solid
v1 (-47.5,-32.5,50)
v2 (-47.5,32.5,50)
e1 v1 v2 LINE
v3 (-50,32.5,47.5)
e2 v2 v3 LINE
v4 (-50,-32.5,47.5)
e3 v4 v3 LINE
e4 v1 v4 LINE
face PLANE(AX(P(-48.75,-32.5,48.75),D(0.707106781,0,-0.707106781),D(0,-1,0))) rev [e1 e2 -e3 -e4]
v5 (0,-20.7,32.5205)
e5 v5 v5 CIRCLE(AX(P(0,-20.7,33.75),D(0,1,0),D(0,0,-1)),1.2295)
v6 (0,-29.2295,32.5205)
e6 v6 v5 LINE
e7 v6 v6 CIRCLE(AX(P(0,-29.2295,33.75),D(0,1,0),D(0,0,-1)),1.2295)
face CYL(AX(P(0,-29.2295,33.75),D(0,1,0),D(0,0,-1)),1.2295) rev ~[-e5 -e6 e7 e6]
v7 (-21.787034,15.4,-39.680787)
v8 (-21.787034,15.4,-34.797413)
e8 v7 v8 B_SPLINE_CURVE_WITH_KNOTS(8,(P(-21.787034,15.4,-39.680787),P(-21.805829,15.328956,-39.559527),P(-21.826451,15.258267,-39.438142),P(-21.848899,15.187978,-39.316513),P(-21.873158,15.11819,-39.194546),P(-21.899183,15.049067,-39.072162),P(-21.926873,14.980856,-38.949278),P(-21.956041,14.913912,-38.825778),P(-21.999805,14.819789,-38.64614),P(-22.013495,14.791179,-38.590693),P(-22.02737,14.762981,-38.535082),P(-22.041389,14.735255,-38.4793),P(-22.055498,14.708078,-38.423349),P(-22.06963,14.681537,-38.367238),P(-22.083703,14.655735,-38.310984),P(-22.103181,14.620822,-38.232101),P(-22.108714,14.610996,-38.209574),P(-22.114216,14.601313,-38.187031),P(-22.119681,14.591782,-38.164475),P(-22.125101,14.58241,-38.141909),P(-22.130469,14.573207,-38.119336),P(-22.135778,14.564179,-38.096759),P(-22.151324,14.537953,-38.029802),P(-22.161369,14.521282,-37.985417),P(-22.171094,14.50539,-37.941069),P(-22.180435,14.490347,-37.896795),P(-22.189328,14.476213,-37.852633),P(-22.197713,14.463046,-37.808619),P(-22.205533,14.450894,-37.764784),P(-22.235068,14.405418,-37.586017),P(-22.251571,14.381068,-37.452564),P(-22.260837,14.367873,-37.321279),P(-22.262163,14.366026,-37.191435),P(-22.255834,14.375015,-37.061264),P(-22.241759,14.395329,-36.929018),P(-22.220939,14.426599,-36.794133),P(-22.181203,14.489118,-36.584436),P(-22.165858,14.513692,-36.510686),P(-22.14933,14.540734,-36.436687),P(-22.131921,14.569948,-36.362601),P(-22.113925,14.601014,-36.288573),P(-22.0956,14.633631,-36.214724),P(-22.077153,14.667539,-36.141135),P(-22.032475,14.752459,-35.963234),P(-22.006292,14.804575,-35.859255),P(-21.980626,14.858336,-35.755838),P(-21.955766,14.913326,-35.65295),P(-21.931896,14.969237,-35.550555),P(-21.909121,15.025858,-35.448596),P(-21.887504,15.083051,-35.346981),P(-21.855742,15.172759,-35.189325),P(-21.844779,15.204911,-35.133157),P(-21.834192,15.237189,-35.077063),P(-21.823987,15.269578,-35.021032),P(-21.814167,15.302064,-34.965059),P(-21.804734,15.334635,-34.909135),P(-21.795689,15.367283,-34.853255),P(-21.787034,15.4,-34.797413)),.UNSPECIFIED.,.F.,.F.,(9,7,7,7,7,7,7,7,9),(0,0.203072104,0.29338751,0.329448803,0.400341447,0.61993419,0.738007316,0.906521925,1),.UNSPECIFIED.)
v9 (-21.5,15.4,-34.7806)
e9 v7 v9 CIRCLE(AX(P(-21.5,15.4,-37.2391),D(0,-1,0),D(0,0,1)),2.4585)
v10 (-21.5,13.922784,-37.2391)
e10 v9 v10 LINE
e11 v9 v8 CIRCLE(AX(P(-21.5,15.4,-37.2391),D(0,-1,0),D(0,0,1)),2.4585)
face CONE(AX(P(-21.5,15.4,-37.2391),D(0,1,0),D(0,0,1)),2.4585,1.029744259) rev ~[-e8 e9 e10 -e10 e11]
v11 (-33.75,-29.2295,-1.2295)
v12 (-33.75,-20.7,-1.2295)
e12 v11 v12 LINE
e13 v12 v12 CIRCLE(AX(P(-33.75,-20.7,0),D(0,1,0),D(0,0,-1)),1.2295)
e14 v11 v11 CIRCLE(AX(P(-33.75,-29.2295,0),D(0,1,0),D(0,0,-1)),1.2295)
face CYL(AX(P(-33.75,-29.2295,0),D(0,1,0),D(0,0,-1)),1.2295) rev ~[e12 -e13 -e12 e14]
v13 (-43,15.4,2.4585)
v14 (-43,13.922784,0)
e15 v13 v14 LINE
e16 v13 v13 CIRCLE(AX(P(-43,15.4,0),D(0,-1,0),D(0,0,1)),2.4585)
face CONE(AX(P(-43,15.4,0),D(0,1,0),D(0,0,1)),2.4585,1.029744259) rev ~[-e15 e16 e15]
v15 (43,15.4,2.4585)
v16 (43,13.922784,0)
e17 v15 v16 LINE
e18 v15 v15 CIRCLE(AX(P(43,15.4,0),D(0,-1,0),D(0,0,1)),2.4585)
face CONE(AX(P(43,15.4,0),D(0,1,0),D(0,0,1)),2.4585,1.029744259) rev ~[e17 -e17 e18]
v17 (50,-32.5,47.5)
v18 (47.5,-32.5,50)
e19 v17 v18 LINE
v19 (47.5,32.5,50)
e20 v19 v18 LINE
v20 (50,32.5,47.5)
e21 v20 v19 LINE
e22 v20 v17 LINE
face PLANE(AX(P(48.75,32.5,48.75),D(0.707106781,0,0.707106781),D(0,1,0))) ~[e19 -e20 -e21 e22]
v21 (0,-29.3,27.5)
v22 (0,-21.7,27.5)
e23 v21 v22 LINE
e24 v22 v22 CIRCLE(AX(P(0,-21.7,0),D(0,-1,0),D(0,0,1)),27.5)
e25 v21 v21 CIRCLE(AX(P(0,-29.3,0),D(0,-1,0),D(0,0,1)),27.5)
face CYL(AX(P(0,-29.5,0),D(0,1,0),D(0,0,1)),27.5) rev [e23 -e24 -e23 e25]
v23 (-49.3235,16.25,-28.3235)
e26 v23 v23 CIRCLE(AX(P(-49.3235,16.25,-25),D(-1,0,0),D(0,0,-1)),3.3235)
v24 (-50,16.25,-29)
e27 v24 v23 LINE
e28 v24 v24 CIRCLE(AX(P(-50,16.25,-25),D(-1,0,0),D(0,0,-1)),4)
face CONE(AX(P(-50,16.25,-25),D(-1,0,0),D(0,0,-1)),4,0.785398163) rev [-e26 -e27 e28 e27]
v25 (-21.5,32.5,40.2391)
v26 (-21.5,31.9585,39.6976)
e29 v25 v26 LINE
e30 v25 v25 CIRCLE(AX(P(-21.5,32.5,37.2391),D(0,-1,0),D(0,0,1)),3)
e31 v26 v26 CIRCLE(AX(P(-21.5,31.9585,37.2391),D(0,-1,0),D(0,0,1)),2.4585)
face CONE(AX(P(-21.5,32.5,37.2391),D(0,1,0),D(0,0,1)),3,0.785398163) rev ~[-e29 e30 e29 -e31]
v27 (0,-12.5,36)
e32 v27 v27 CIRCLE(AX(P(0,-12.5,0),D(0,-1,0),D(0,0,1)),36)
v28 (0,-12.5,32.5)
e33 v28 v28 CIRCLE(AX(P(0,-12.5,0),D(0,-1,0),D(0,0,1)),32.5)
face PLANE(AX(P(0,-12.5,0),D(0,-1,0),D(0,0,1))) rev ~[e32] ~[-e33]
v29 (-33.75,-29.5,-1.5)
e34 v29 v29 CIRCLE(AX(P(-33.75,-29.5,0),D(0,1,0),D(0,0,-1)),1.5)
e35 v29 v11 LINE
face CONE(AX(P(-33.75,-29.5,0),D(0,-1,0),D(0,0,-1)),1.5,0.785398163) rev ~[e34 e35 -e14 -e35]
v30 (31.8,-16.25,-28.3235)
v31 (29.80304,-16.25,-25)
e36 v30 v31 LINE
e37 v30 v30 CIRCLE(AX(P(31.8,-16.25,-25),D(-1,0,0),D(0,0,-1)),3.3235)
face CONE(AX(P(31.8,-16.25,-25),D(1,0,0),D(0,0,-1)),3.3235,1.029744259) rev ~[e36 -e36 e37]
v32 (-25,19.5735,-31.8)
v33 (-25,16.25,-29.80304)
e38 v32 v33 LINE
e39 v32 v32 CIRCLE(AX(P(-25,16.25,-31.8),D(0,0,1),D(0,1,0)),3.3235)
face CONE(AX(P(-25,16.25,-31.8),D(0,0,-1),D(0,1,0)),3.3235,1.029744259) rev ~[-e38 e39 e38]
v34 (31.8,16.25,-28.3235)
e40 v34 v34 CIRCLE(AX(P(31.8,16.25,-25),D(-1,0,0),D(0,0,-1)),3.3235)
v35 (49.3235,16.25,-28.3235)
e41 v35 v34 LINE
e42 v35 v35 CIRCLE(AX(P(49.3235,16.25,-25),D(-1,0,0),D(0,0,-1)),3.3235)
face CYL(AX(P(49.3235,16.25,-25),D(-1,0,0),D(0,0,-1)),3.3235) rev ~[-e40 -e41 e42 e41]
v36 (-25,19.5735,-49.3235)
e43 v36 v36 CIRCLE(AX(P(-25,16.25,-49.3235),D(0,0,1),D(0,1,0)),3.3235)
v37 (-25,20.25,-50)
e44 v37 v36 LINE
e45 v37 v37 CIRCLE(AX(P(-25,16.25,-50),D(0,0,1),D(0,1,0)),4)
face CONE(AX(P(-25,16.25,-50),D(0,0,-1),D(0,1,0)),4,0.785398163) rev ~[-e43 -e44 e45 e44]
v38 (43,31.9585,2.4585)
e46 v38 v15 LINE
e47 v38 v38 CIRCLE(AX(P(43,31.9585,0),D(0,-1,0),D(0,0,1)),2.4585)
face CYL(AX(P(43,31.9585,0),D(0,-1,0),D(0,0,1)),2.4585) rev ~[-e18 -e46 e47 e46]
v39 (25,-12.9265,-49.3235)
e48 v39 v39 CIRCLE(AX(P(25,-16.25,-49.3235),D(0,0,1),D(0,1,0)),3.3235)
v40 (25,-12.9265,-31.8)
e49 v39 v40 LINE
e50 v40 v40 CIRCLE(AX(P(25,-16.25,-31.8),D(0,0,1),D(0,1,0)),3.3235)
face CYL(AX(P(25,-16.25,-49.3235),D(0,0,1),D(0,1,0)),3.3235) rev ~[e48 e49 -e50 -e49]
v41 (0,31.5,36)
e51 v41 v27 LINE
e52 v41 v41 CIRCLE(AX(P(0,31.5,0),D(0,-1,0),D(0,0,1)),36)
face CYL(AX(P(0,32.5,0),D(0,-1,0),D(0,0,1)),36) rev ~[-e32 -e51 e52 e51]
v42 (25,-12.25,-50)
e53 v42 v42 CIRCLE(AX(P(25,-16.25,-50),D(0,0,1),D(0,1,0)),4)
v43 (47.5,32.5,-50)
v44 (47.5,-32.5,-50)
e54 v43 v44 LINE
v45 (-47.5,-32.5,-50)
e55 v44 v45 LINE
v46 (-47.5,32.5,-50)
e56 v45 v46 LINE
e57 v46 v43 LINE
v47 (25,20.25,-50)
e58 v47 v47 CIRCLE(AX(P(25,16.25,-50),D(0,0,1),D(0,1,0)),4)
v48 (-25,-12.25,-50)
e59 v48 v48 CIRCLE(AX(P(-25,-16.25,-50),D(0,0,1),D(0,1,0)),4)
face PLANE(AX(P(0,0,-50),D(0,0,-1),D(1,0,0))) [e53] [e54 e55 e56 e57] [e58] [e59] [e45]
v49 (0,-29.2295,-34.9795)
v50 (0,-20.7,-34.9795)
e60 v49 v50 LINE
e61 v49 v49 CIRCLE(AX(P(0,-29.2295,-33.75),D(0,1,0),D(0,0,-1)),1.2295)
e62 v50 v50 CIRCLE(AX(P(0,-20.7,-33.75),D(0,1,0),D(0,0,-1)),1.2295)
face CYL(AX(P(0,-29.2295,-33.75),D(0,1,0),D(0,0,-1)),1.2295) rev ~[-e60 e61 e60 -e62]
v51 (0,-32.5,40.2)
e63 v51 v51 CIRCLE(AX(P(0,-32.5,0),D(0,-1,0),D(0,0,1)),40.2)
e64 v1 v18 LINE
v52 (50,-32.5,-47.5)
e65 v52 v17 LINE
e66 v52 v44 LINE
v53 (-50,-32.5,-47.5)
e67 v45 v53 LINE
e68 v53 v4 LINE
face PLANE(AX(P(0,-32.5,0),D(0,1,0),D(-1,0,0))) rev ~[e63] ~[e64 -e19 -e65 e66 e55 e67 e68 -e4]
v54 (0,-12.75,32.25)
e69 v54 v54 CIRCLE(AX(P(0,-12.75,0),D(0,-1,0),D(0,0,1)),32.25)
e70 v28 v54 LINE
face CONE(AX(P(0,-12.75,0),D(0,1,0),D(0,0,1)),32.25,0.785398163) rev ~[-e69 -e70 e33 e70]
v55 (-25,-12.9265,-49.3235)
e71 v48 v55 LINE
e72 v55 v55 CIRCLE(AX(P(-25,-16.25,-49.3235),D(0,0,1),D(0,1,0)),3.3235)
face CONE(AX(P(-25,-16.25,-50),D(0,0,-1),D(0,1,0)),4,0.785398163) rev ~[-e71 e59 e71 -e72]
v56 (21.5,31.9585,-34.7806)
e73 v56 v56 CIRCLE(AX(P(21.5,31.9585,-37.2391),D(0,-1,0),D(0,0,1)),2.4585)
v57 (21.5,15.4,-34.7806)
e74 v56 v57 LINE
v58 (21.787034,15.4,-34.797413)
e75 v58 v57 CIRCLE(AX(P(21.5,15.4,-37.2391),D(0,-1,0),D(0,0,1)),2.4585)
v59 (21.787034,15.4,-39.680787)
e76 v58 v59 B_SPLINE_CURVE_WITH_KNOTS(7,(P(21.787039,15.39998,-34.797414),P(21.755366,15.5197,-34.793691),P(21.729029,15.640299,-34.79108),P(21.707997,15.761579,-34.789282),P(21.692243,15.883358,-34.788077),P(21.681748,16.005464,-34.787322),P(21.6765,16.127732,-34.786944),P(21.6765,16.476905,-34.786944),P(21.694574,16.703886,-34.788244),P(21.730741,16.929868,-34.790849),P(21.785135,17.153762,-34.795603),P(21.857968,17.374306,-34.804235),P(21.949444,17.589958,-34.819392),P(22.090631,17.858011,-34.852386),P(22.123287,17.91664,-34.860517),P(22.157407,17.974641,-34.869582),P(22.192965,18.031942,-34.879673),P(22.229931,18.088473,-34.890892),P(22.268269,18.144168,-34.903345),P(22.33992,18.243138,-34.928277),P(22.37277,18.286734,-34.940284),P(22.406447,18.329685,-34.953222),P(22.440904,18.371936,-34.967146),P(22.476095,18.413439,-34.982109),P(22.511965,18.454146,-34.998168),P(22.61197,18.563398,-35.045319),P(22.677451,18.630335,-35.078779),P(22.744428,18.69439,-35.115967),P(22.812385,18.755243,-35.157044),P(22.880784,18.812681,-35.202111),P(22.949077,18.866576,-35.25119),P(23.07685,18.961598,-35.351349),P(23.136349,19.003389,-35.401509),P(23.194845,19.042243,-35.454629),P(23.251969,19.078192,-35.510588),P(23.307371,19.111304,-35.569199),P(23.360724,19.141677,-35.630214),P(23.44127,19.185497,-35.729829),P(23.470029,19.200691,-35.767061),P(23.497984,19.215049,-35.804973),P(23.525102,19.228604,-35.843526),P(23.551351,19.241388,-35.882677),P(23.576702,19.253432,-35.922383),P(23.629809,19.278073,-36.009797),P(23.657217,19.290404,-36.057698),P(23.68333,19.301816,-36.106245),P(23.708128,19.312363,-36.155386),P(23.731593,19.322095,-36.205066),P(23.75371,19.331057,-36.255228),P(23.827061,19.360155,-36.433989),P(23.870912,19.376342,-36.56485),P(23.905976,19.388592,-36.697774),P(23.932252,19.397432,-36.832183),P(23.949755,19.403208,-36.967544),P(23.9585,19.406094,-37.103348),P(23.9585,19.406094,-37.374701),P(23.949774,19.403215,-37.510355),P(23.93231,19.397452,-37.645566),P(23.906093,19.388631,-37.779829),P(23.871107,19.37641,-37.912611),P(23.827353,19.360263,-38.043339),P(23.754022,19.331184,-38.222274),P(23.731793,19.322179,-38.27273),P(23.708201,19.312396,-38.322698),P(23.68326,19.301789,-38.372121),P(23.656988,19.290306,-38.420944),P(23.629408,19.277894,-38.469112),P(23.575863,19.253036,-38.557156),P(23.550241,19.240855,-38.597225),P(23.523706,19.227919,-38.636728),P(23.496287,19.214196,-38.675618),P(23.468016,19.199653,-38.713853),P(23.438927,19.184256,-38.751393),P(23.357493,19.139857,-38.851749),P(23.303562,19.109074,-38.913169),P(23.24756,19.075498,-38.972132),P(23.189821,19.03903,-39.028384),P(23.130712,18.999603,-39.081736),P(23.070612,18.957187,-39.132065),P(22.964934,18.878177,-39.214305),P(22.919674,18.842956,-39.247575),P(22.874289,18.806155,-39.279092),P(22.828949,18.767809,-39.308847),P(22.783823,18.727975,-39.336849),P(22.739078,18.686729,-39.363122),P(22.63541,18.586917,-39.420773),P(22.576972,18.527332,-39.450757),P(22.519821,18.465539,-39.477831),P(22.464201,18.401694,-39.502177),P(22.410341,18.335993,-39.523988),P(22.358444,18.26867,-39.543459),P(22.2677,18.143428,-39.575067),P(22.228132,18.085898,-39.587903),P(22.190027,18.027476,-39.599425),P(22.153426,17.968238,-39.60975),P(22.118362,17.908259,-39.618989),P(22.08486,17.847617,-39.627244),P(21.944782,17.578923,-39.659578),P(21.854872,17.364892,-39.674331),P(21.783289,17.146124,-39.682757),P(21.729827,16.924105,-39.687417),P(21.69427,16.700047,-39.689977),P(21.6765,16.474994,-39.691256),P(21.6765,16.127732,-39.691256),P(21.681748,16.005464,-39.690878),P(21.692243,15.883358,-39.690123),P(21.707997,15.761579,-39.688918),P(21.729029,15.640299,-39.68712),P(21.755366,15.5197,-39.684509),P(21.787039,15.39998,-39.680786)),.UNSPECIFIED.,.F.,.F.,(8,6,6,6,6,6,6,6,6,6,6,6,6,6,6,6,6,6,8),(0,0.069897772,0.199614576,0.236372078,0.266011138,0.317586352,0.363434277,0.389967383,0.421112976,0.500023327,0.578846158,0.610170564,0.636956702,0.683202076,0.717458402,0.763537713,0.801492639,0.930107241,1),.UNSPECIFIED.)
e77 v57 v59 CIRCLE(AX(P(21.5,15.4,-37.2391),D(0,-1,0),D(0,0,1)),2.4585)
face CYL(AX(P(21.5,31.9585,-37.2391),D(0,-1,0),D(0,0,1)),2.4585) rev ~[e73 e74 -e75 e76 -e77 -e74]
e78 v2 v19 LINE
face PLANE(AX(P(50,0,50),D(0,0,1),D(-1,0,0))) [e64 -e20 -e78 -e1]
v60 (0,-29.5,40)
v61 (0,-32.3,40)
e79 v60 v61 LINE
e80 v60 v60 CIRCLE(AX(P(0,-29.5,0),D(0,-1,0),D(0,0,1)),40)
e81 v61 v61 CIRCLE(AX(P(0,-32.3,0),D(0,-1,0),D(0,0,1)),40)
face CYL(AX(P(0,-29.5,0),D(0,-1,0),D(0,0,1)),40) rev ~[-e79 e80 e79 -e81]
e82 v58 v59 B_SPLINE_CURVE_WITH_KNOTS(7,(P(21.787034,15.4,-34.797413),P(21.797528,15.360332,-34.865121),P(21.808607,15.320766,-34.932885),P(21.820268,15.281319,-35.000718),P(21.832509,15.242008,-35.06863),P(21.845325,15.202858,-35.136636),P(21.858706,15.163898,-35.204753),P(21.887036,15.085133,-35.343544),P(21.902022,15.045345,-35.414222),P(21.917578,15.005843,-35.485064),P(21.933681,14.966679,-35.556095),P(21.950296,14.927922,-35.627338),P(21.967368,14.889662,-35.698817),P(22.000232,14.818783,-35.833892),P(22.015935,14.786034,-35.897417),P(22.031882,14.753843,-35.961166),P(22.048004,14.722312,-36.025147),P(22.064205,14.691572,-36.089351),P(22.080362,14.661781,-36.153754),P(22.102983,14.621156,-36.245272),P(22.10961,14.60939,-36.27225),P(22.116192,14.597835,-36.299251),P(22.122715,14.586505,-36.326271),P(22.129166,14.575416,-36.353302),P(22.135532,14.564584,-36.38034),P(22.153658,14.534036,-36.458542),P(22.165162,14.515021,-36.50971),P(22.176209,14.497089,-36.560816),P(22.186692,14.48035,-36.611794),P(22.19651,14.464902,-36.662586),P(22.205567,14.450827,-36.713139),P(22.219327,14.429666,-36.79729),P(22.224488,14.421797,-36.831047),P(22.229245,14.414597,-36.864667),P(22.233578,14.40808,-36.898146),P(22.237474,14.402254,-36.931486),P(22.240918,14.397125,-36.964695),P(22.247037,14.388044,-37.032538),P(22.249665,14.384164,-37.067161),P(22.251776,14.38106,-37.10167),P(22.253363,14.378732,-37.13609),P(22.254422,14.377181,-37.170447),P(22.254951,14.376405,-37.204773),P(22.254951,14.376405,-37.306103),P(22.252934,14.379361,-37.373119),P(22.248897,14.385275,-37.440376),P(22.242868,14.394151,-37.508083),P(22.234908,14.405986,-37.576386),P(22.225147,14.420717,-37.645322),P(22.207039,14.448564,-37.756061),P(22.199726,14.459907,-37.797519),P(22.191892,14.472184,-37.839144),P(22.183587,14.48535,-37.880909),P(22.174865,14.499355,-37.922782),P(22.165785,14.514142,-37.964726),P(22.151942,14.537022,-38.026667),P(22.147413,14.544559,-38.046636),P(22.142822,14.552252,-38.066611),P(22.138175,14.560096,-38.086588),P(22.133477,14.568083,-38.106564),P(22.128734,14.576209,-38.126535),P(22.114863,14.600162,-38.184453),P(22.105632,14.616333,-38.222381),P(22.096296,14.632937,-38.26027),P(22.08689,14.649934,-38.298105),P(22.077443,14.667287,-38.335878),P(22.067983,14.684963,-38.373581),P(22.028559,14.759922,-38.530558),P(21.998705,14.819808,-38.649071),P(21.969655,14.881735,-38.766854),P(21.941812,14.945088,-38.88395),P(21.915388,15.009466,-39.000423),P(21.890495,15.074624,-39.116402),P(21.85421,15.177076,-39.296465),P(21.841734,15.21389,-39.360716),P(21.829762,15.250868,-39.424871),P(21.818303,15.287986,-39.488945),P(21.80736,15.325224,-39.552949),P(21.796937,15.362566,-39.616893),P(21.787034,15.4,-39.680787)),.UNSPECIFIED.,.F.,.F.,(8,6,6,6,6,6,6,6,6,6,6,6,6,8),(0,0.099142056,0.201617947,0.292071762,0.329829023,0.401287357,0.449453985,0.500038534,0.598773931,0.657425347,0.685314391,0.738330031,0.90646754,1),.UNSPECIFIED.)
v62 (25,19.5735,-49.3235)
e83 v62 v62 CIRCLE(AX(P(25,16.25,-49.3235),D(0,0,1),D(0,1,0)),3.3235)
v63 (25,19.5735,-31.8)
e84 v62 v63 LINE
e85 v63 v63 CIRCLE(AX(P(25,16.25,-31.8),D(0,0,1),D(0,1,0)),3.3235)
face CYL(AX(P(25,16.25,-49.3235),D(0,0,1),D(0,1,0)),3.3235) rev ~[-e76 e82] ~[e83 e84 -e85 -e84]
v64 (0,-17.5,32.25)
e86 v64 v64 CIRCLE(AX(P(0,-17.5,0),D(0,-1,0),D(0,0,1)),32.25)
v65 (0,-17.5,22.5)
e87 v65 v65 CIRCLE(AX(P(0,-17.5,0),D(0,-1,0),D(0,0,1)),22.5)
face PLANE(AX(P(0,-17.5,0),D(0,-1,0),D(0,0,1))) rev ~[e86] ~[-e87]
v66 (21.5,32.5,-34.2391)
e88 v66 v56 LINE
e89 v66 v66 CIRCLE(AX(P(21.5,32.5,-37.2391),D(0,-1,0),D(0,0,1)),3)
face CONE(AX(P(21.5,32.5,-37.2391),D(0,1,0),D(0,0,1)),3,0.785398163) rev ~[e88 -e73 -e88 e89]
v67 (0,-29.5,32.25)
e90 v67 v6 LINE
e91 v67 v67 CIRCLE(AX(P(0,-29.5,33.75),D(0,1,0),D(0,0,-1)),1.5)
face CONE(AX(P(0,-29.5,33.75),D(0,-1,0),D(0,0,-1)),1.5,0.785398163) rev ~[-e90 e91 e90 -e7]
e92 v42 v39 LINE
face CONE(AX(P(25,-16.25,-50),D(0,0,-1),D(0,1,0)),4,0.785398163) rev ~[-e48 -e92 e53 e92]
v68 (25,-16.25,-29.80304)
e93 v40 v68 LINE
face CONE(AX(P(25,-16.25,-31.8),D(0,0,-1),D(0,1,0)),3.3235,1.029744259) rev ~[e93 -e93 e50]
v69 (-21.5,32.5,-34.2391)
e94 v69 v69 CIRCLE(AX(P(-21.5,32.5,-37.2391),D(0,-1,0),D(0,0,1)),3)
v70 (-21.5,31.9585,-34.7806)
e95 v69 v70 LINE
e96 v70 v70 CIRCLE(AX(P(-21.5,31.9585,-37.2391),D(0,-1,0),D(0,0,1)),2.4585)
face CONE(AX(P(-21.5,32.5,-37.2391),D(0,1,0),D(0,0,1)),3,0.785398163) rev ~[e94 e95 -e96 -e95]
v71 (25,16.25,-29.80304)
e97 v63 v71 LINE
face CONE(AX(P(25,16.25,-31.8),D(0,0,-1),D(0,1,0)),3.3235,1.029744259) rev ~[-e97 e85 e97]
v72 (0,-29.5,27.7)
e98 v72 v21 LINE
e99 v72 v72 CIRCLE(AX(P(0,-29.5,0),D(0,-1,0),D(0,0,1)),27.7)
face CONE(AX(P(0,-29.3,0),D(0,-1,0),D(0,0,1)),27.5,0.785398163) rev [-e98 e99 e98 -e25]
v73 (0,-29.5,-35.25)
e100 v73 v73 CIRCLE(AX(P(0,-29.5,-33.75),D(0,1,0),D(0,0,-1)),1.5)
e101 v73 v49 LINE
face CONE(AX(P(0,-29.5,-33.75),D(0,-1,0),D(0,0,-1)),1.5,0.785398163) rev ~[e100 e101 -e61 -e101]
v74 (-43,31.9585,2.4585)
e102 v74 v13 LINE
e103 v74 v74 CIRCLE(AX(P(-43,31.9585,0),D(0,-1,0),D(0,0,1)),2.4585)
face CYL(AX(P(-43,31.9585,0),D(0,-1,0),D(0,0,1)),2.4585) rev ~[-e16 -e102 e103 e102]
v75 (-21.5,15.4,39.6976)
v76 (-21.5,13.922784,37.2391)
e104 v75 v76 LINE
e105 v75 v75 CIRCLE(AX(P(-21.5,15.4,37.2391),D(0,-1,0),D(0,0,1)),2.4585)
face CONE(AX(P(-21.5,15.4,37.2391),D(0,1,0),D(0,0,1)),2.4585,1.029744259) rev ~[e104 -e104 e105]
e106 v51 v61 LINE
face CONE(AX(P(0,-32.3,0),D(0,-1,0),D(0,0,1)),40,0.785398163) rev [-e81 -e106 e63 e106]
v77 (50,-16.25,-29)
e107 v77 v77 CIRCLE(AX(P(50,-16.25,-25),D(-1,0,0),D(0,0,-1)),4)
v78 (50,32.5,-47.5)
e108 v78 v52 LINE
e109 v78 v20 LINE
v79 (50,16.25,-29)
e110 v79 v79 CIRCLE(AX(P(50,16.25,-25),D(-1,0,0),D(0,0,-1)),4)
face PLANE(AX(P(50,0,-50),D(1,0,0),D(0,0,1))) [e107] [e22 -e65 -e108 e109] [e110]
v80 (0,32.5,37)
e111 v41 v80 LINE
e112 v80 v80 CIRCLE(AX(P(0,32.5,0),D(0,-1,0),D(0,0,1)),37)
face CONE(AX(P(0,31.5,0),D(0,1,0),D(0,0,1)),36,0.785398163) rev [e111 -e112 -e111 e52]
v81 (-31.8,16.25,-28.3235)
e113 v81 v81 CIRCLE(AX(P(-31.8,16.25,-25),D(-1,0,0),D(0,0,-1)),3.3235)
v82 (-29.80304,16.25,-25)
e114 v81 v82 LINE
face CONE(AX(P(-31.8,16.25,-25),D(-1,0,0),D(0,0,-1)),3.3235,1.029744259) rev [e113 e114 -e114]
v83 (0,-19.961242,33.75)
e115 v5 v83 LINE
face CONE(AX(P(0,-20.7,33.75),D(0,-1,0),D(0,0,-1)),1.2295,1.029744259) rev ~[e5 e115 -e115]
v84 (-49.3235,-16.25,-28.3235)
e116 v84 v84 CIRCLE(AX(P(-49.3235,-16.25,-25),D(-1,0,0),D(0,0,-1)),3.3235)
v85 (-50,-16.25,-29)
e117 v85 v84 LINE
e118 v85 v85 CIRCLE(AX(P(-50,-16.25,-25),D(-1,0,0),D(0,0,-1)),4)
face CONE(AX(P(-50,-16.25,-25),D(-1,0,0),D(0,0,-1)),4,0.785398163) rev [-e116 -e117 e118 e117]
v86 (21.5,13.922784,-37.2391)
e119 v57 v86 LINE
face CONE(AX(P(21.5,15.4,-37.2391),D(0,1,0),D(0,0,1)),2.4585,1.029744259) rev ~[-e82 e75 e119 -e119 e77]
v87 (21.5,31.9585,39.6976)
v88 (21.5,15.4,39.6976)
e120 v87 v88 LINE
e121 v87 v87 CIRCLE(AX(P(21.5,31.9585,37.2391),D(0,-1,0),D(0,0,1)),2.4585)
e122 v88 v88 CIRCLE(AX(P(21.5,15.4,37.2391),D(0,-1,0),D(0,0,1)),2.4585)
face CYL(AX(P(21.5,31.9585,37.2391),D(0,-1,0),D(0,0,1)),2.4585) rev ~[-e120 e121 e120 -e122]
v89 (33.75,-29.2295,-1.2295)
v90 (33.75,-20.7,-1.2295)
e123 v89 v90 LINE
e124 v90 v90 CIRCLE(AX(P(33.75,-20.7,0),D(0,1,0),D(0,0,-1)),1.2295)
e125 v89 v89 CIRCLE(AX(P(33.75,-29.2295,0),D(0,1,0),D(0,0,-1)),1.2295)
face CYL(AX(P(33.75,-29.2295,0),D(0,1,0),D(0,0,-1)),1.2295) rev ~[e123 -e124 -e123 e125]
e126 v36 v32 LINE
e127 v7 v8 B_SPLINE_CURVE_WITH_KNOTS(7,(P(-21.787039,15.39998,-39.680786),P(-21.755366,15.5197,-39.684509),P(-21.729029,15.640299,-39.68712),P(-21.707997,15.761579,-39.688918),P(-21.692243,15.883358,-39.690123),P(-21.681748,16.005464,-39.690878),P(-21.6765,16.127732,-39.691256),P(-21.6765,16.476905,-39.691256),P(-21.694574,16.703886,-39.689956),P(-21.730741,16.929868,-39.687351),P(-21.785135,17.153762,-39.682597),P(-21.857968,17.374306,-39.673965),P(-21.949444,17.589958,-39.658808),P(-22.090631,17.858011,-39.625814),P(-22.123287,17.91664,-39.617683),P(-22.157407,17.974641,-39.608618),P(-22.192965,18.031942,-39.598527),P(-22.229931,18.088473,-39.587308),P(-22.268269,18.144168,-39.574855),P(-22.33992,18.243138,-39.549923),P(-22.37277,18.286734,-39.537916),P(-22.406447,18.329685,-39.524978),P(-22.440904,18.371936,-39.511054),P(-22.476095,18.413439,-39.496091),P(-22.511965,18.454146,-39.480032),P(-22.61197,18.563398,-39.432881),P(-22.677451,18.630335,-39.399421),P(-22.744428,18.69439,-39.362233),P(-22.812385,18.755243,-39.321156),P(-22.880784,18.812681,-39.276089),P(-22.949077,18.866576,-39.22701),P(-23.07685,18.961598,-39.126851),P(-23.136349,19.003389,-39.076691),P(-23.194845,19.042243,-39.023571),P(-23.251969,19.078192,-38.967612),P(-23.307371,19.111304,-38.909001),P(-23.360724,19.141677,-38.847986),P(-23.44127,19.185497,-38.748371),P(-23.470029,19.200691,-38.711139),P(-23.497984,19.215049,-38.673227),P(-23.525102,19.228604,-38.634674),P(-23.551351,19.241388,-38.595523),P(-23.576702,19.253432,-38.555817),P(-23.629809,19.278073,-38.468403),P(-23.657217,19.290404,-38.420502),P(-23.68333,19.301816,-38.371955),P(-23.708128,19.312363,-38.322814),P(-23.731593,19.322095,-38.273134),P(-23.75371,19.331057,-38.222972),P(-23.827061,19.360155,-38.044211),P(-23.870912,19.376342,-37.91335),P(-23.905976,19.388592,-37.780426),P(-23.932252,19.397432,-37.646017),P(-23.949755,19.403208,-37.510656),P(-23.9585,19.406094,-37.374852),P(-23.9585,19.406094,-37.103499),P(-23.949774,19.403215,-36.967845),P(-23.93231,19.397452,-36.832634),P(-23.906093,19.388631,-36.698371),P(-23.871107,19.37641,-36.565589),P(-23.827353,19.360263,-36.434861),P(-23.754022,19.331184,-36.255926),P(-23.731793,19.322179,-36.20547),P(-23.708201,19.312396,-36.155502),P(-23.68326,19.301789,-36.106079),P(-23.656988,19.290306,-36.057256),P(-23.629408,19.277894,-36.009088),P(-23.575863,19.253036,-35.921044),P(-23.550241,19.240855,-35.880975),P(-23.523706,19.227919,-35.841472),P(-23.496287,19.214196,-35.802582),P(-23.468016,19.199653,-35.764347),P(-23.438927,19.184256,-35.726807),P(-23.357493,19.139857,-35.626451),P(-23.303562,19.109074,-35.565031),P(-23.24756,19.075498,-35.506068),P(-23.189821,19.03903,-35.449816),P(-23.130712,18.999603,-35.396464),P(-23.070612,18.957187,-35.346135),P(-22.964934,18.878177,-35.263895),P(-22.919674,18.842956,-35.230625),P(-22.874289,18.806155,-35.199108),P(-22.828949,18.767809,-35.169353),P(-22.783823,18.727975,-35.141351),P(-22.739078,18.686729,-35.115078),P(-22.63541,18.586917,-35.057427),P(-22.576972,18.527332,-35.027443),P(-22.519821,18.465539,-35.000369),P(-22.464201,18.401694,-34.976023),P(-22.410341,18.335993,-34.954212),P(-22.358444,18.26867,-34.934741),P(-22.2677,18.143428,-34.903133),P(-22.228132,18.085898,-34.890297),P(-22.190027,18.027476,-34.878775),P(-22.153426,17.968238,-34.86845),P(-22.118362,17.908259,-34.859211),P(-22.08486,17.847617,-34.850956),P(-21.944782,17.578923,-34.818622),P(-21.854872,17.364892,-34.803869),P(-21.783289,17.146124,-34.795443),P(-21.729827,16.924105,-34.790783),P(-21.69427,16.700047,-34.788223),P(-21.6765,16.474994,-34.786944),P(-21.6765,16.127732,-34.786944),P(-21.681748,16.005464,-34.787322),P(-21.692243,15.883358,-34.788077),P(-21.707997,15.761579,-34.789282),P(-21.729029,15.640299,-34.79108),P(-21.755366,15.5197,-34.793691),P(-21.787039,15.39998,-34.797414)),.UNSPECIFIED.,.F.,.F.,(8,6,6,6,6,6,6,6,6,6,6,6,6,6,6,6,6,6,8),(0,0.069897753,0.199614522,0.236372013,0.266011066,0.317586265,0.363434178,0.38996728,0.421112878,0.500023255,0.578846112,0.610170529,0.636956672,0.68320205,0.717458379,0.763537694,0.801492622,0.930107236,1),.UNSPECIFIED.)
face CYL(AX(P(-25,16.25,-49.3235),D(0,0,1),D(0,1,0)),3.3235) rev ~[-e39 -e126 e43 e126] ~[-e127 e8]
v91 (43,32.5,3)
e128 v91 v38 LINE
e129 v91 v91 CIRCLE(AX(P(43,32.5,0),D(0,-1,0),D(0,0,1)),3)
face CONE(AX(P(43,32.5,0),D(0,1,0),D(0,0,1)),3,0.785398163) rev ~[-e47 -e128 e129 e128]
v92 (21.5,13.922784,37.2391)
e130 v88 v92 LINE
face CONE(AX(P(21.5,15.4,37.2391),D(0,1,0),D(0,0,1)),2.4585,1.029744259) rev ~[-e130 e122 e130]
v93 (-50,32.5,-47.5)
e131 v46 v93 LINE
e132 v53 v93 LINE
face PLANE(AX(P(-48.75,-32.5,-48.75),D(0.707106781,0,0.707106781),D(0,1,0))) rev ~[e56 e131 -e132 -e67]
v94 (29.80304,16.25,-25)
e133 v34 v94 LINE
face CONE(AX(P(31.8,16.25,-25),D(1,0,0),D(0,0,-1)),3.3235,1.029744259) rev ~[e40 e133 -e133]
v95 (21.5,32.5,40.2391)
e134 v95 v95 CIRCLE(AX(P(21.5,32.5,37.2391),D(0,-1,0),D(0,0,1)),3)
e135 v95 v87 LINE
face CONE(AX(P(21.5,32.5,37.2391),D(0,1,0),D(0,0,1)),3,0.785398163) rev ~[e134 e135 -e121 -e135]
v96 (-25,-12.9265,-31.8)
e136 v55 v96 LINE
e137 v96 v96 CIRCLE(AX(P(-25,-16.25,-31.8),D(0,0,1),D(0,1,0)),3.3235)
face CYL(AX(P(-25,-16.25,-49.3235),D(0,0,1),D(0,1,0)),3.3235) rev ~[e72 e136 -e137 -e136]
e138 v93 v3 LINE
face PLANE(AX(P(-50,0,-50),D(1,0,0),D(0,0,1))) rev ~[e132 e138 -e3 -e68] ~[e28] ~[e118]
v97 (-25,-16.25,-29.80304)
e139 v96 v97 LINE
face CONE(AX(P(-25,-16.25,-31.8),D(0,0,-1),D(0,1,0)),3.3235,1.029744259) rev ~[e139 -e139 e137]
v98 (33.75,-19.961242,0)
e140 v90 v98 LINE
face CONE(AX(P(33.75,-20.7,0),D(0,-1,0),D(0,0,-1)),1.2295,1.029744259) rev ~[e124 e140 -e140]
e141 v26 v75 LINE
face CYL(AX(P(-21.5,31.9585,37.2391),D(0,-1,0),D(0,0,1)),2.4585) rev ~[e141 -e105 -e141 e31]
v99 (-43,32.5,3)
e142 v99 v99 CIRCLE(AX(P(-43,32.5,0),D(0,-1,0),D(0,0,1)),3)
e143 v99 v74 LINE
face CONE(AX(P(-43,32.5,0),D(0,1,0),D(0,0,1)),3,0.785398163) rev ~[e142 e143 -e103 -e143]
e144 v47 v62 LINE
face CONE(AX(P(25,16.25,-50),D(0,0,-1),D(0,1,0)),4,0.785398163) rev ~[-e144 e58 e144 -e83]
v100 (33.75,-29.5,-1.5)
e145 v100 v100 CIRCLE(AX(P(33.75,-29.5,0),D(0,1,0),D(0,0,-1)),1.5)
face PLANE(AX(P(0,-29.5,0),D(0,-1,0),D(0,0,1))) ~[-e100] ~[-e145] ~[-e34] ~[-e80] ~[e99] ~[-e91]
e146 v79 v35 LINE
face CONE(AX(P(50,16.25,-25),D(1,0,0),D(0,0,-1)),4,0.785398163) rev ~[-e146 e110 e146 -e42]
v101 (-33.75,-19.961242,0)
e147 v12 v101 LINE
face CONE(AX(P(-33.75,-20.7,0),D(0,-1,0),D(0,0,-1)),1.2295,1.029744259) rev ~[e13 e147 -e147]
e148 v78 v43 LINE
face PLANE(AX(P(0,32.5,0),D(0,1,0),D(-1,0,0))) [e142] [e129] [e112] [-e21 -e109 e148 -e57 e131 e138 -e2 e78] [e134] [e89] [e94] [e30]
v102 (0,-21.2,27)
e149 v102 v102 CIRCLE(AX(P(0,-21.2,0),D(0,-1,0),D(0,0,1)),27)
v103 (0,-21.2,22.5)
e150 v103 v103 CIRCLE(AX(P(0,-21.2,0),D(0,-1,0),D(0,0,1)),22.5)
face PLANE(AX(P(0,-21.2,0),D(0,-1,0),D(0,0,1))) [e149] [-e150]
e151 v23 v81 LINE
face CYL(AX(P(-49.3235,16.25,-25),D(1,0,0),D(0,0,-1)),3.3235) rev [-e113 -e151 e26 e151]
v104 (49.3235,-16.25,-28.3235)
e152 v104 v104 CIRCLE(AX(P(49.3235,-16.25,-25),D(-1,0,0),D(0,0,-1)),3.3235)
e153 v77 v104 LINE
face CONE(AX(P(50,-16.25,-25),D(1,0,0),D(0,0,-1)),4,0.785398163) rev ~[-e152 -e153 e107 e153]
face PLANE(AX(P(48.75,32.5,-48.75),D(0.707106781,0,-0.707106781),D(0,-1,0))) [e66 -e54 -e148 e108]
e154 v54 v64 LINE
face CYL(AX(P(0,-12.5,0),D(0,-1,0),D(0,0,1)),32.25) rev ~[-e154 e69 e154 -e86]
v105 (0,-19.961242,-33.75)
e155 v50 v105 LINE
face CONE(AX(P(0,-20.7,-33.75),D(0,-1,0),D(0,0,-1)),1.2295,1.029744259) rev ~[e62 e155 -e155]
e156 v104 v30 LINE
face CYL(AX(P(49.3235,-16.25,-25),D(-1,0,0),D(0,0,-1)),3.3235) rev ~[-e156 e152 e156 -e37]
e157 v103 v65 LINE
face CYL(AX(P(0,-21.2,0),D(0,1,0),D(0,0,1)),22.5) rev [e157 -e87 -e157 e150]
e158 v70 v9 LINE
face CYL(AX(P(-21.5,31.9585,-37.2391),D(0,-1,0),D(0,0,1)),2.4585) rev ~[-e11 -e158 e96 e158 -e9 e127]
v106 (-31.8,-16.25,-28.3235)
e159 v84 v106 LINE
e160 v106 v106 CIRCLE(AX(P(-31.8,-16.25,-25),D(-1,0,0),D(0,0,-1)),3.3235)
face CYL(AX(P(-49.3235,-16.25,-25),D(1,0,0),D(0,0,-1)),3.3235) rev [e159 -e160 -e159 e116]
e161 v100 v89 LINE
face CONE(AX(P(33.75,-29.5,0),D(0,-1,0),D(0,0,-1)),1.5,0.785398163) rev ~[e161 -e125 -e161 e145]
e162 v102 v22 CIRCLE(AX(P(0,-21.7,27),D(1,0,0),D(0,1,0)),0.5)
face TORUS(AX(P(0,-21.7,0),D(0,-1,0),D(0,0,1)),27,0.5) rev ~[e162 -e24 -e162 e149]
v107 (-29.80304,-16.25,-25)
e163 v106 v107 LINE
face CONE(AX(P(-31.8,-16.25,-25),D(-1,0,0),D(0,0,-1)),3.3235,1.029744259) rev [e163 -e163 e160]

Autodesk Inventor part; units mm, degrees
ref_plane "YZ Plane" through (0, 0, 0) normal (1, 0, 0) x (0, 1, 0)
ref_plane "XZ Plane" through (0, 0, 0) normal (0, 1, 0) x (-1, 0, 0)
ref_plane "XY Plane" through (0, 0, 0) normal (0, 0, 1) x (1, 0, 0)
sketch "Skizze1" plane through (0, 0, 0) normal (0, 1, 0) x (-1, 0, 0)
  line L0 (0, -50) -> (-50, -50)
  line L1 (-50, -50) -> (-50, 50)
  line L2 (-50, 50) -> (0, 50)
  line L3 (0, -50) -> (50, -50)
  line L4 (50, -50) -> (50, 50)
  line L5 (50, 50) -> (0, 50)
  line L6 (-122.5, 0) -> (122.5, 0) construction
  line L7 (0, -77.2) -> (0, 113.2) construction
  dimension "d1" = 100
  dimension "d3" = 100
extrude "Grundkoerper" add sketch "Skizze1" along normal mid plane 65
sketch "Skizze2" plane through (0, -32.5, 0) normal (0, -1, 0) x (1, 0, 0)
  line L0 (-50, -50) -> (50, -50) projected
  line L1 (50, 50) -> (-50, 50) projected
  point P0 (0, 0)
  point P1 (0, 0)
  point P2 (-87.5, 0)
  point P3 (87.5, 0)
  dimension "d8" = 0
sketch "Skizze3" plane through (0, 0, 0) normal (1, 0, 0) x (0, 1, 0)
  line L0 (49, 0) -> (-49, 0) construction
  line L1 (-32.5, 50) -> (-32.5, -50) construction
  line L2 (32.5, -50) -> (32.5, 50) construction
  line L3 (32.5, 36) -> (-12.5, 36)
  line L4 (-12.5, 36) -> (-12.5, 32.25)
  line L5 (-17.5, 18) -> (-32.5, 18)
  line L6 (-32.5, -50) -> (-32.5, 50) projected
  line L7 (-32.5, 18) -> (-32.5, 0)
  line L8 (-32.5, 0) -> (32.5, 0)
  line L9 (32.5, 0) -> (32.5, 36)
  line L10 (-12.5, 32.25) -> (-17.5, 32.25)
  line L11 (-17.5, 32.25) -> (-17.5, 18)
  point P0 (0, 0)
  dimension "d9" = 45
  dimension "d10" = 72
  dimension "d11" = 36
  dimension "d33" = 5
  dimension "d34" = 64.5
revolve "Lagersitz" cut sketch "Skizze3" angle 360 about axis through (0, -32.5, 0) along (0, -1, 0)
sketch "Skizze_Lagersitz" plane through (0, 0, 0) normal (1, 0, 0) x (0, 1, 0)
  line L0 (-12.5, 36) -> (32.5, 36) projected
  line L1 (-12.5, -36) -> (-12.5, 36) projected
  line L2 (-17.5, 32.25) -> (-12.5, 32.25) projected
  line L3 (-17.5, -32.25) -> (-17.5, 32.25) projected
  line L4 (-32.5, 18) -> (-17.5, 18) projected
  line L5 (-32.5, -18) -> (-17.5, -18) projected
  line L6 (-17.5, -32.25) -> (-12.5, -32.25) projected
  line L7 (-12.5, -36) -> (32.5, -36) projected
  line L8 (32.5, 36) -> (32.5, -36) projected
  line L9 (32.5, 50) -> (32.5, -50) projected
  line L10 (30, -50) -> (30, 0) projected
  line L11 (-32.5, -18) -> (-32.5, 18) projected
  line L12 (-32.5, 50) -> (-32.5, -50) projected
  line L13 (-32.5, -50) -> (-32.5, 50) projected
  line L14 (-12.5, -36) -> (-12.5, 36) projected
  point P0 (0, 0)
  point P1 (30, 86)
  point P2 (30, 14)
  point P3 (-30, 32)
  point P4 (-30, 68)
sketch "Skizze10" plane through (0, 0, 0) normal (1, 0, 0) x (0, 1, 0)
  line L0 (49, 0) -> (-49, 0) projected
  line L1 (-32.5, 18) -> (-17.5, 18) construction
  line L2 (-32.5, -50) -> (-32.5, 50) construction
  line L3 (-17.5, -32.25) -> (-17.5, 32.25) construction
  line L4 (-32.5, 50) -> (-32.5, -50) projected
  line L5 (-29.5, 27.5) -> (-21.7, 27.5)
  line L6 (-21.2, 27) -> (-21.2, 22.5)
  line L7 (-21.2, 22.5) -> (-17.5, 22.5)
  line L8 (-17.5, 22.5) -> (-17.5, 18)
  line L9 (-32.5, 40) -> (-32.5, 0)
  line L10 (-32.5, 0) -> (-17.5, 0)
  line L11 (-17.5, 0) -> (-17.5, 22.5)
  arc A0 (-21.2, 27) -> (-21.7, 27.5) centre (-21.7, 27) ccw
  line L12 (-29.5, 27.5) -> (-29.5, 40)
  line L13 (-29.5, 40) -> (-32.5, 40)
  point P0 (0, 0)
  dimension "d117" = 55
  dimension "d118" = 0.5
  dimension "d119" = 45
  dimension "d124" = 8.3
  dimension "d125" = 3
  dimension "d126" = 80
revolve "RWDR" cut sketch "Skizze10" angle 360 about axis through (0, -32.5, 0) along (0, -1, 0)
sketch "Skizze_RWDR" plane through (0, 0, 0) normal (1, 0, 0) x (0, 1, 0)
  line L0 (-32.5, -40) -> (-32.5, 40) projected
  line L1 (-32.5, 40) -> (-29.5, 40) projected
  line L2 (-29.5, -40) -> (-29.5, 40) projected
  line L3 (-32.5, -40) -> (-29.5, -40) projected
  line L4 (-29.5, 27.5) -> (-21.7, 27.5) projected
  line L5 (-21.2, -27) -> (-21.2, 27) projected
  line L6 (-29.5, -27.5) -> (-21.7, -27.5) projected
  arc A0 (-21.7, -27.5) -> (-21.2, -27) centre (-21.7, -27) ccw projected
  arc A1 (-21.2, 27) -> (-21.7, 27.5) centre (-21.7, 27) ccw projected
  line L7 (-21.2, 22.5) -> (-17.5, 22.5) projected
  line L8 (-21.2, -22.5) -> (-17.5, -22.5) projected
  line L9 (-17.5, 22.5) -> (-17.5, -22.5) projected
  point P0 (0, 0)
sketch "Skizze5" plane through (0, 32.5, 0) normal (0, 1, 0) x (1, 0, 0)
  circle A0 centre (0, 0) radius 36 construction
  circle A1 centre (0, 0) radius 43 construction
  line L0 (-50, -50) -> (50, -50) construction
  line L1 (50, 50) -> (-50, 50) projected
  line L2 (-50, 50) -> (50, 50) construction
  line L3 (0, 77.2) -> (0, -113.2) construction
  line L4 (0, 0) -> (21.5, -37.2391) construction
  point P0 (43, 0)
  point P1 (21.5, 37.2391)
  point P2 (-21.5, 37.2391)
  point P3 (-43, 0)
  point P4 (-21.5, -37.2391)
  dimension "d40" = 86
  dimension "d38" = 100
  dimension "d39" = 72
  dimension "d110" = 30
  dimension "d114" = 360
hole "M6_Boh_Lagerpresse" at (21.5, 32.5, 37.2391) at (43, 32.5, 0) at (21.5, 32.5, -37.2391) at (-21.5, 32.5, -37.2391) at (-43, 32.5, 0) at (-21.5, 32.5, 37.2391) direction (0, -1, 0) diameter 4.917 depth 17.1 tip angle 118 countersink diameter 6 countersink angle 90 thread size "M6x1" class "6H" standard "ISO Metric profile"
sketch "Skizze11" plane through (0, -29.5, 0) normal (0, -1, 0) x (1, 0, 0)
  circle A0 centre (0, 0) radius 40 construction
  circle A1 centre (0, 0) radius 27.5 construction
  circle A2 centre (0, 0) radius 33.75 construction
  line L0 (0, 113.2) -> (0, -77.2) construction
  line L1 (-122.5, 0) -> (122.5, 0) projected
  point P0 (0, 33.75)
  point P1 (-33.75, 0)
  point P2 (0, -33.75)
  point P3 (33.75, 0)
  dimension "d129" = 67.5
  dimension "d127" = 55
  dimension "d128" = 80
  dimension "d132" = 360
hole "M3_RWDR_Fixierung" at (0, -29.5, 33.75) at (-33.75, -29.5, 0) at (0, -29.5, -33.75) at (33.75, -29.5, 0) direction (0, 1, 0) diameter 2.459 depth 8.8 tip angle 118 countersink diameter 3 countersink angle 90 thread size "M3x0.5" class "6H" standard "ISO Metric profile"
sketch "Skizze8" plane through (50, 32.5, -50) normal (0, 0, -1) x (-1, 0, 0)
  line L0 (0, 0) -> (100, 0) construction
  line L1 (100, -65) -> (0, -65) construction
  line L2 (0, 0) -> (0, -65) construction
  line L3 (100, 0) -> (100, -65) construction
  line L4 (50, -84.5) -> (50, 17) construction
  line L5 (-72.5, -32.5) -> (172.5, -32.5) construction
  point P0 (50, -32.5)
  point P1 (25, -16.25)
  point P2 (75, -16.25)
  point P3 (25, -48.75)
  point P4 (75, -48.75)
  dimension "d81" = 100
  dimension "d82" = 50
  dimension "d83" = 65
  dimension "d84" = 32.5
hole "M8_Boh_Fixierung_1" at (25, 16.25, -50) at (-25, 16.25, -50) at (25, -16.25, -50) at (-25, -16.25, -50) direction (0, 0, 1) diameter 6.647 depth 18.2 tip angle 118 countersink diameter 8 countersink angle 90 thread size "M8x1.25" class "6H" standard "ISO Metric profile"
sketch "Skizze9" plane through (50, -32.5, -50) normal (1, 0, 0) x (0, 0, -1)
  line L0 (-50, 81.5) -> (-50, -16.5) construction
  line L1 (0, 65) -> (0, 0) construction
  line L2 (-100, 65) -> (0, 65) construction
  line L3 (0, 0) -> (-100, 0) construction
  line L4 (-163.2, 32.5) -> (27.2, 32.5) construction
  point P0 (-50, 32.5)
  point P1 (-25, 16.25)
  point P2 (-25, 48.75)
  dimension "d92" = 32.5
  dimension "d93" = 65
  dimension "d94" = 50
  dimension "d95" = 25
hole "M8_Boh_Fixierung_2" at (50, -16.25, -25) at (50, 16.25, -25) direction (-1, 0, 0) diameter 6.647 depth 18.2 tip angle 118 countersink diameter 8 countersink angle 90 thread size "M8x1.25" class "6H" standard "ISO Metric profile"
mirror "M8_Boh_Fixierung_2_Spiegel" about plane through (0, 0, 0) normal (1, 0, 0) of "M8_Boh_Fixierung_2"
chamfer "Fase_Lagersitz" distance 0.25 angle 45 1 edges at (0, -12.5, -32.25)
chamfer "Fase_Deckel" distance 1 angle 45 1 edges at (0, 32.5, -36)
chamfer "Fase_Allgemein" distance 2.5 angle 45 4 edges at (50, 0, 50) (-50, 0, 50) (50, 0, -50) (-50, 0, -50)
chamfer "Fase_RWDR" distance 0.2 angle 45 2 edges at (0, -29.5, -27.5) (0, -32.5, -40)
equation "\"d40\" = 0.5 * d38 + 0.5 * d39"
equation "\"d129\" = 0.5 * d128 + 0.5 * d127"
equation "\"d82\" = 0.5 * d81"
equation "\"d84\" = 0.5 * d83"
equation "\"d92\" = 0.5 * d93"
equation "\"d95\" = 0.5 * d94"
properties part number "200-10-ROCKER-BEARING-01" material "Aluminium 6061"
